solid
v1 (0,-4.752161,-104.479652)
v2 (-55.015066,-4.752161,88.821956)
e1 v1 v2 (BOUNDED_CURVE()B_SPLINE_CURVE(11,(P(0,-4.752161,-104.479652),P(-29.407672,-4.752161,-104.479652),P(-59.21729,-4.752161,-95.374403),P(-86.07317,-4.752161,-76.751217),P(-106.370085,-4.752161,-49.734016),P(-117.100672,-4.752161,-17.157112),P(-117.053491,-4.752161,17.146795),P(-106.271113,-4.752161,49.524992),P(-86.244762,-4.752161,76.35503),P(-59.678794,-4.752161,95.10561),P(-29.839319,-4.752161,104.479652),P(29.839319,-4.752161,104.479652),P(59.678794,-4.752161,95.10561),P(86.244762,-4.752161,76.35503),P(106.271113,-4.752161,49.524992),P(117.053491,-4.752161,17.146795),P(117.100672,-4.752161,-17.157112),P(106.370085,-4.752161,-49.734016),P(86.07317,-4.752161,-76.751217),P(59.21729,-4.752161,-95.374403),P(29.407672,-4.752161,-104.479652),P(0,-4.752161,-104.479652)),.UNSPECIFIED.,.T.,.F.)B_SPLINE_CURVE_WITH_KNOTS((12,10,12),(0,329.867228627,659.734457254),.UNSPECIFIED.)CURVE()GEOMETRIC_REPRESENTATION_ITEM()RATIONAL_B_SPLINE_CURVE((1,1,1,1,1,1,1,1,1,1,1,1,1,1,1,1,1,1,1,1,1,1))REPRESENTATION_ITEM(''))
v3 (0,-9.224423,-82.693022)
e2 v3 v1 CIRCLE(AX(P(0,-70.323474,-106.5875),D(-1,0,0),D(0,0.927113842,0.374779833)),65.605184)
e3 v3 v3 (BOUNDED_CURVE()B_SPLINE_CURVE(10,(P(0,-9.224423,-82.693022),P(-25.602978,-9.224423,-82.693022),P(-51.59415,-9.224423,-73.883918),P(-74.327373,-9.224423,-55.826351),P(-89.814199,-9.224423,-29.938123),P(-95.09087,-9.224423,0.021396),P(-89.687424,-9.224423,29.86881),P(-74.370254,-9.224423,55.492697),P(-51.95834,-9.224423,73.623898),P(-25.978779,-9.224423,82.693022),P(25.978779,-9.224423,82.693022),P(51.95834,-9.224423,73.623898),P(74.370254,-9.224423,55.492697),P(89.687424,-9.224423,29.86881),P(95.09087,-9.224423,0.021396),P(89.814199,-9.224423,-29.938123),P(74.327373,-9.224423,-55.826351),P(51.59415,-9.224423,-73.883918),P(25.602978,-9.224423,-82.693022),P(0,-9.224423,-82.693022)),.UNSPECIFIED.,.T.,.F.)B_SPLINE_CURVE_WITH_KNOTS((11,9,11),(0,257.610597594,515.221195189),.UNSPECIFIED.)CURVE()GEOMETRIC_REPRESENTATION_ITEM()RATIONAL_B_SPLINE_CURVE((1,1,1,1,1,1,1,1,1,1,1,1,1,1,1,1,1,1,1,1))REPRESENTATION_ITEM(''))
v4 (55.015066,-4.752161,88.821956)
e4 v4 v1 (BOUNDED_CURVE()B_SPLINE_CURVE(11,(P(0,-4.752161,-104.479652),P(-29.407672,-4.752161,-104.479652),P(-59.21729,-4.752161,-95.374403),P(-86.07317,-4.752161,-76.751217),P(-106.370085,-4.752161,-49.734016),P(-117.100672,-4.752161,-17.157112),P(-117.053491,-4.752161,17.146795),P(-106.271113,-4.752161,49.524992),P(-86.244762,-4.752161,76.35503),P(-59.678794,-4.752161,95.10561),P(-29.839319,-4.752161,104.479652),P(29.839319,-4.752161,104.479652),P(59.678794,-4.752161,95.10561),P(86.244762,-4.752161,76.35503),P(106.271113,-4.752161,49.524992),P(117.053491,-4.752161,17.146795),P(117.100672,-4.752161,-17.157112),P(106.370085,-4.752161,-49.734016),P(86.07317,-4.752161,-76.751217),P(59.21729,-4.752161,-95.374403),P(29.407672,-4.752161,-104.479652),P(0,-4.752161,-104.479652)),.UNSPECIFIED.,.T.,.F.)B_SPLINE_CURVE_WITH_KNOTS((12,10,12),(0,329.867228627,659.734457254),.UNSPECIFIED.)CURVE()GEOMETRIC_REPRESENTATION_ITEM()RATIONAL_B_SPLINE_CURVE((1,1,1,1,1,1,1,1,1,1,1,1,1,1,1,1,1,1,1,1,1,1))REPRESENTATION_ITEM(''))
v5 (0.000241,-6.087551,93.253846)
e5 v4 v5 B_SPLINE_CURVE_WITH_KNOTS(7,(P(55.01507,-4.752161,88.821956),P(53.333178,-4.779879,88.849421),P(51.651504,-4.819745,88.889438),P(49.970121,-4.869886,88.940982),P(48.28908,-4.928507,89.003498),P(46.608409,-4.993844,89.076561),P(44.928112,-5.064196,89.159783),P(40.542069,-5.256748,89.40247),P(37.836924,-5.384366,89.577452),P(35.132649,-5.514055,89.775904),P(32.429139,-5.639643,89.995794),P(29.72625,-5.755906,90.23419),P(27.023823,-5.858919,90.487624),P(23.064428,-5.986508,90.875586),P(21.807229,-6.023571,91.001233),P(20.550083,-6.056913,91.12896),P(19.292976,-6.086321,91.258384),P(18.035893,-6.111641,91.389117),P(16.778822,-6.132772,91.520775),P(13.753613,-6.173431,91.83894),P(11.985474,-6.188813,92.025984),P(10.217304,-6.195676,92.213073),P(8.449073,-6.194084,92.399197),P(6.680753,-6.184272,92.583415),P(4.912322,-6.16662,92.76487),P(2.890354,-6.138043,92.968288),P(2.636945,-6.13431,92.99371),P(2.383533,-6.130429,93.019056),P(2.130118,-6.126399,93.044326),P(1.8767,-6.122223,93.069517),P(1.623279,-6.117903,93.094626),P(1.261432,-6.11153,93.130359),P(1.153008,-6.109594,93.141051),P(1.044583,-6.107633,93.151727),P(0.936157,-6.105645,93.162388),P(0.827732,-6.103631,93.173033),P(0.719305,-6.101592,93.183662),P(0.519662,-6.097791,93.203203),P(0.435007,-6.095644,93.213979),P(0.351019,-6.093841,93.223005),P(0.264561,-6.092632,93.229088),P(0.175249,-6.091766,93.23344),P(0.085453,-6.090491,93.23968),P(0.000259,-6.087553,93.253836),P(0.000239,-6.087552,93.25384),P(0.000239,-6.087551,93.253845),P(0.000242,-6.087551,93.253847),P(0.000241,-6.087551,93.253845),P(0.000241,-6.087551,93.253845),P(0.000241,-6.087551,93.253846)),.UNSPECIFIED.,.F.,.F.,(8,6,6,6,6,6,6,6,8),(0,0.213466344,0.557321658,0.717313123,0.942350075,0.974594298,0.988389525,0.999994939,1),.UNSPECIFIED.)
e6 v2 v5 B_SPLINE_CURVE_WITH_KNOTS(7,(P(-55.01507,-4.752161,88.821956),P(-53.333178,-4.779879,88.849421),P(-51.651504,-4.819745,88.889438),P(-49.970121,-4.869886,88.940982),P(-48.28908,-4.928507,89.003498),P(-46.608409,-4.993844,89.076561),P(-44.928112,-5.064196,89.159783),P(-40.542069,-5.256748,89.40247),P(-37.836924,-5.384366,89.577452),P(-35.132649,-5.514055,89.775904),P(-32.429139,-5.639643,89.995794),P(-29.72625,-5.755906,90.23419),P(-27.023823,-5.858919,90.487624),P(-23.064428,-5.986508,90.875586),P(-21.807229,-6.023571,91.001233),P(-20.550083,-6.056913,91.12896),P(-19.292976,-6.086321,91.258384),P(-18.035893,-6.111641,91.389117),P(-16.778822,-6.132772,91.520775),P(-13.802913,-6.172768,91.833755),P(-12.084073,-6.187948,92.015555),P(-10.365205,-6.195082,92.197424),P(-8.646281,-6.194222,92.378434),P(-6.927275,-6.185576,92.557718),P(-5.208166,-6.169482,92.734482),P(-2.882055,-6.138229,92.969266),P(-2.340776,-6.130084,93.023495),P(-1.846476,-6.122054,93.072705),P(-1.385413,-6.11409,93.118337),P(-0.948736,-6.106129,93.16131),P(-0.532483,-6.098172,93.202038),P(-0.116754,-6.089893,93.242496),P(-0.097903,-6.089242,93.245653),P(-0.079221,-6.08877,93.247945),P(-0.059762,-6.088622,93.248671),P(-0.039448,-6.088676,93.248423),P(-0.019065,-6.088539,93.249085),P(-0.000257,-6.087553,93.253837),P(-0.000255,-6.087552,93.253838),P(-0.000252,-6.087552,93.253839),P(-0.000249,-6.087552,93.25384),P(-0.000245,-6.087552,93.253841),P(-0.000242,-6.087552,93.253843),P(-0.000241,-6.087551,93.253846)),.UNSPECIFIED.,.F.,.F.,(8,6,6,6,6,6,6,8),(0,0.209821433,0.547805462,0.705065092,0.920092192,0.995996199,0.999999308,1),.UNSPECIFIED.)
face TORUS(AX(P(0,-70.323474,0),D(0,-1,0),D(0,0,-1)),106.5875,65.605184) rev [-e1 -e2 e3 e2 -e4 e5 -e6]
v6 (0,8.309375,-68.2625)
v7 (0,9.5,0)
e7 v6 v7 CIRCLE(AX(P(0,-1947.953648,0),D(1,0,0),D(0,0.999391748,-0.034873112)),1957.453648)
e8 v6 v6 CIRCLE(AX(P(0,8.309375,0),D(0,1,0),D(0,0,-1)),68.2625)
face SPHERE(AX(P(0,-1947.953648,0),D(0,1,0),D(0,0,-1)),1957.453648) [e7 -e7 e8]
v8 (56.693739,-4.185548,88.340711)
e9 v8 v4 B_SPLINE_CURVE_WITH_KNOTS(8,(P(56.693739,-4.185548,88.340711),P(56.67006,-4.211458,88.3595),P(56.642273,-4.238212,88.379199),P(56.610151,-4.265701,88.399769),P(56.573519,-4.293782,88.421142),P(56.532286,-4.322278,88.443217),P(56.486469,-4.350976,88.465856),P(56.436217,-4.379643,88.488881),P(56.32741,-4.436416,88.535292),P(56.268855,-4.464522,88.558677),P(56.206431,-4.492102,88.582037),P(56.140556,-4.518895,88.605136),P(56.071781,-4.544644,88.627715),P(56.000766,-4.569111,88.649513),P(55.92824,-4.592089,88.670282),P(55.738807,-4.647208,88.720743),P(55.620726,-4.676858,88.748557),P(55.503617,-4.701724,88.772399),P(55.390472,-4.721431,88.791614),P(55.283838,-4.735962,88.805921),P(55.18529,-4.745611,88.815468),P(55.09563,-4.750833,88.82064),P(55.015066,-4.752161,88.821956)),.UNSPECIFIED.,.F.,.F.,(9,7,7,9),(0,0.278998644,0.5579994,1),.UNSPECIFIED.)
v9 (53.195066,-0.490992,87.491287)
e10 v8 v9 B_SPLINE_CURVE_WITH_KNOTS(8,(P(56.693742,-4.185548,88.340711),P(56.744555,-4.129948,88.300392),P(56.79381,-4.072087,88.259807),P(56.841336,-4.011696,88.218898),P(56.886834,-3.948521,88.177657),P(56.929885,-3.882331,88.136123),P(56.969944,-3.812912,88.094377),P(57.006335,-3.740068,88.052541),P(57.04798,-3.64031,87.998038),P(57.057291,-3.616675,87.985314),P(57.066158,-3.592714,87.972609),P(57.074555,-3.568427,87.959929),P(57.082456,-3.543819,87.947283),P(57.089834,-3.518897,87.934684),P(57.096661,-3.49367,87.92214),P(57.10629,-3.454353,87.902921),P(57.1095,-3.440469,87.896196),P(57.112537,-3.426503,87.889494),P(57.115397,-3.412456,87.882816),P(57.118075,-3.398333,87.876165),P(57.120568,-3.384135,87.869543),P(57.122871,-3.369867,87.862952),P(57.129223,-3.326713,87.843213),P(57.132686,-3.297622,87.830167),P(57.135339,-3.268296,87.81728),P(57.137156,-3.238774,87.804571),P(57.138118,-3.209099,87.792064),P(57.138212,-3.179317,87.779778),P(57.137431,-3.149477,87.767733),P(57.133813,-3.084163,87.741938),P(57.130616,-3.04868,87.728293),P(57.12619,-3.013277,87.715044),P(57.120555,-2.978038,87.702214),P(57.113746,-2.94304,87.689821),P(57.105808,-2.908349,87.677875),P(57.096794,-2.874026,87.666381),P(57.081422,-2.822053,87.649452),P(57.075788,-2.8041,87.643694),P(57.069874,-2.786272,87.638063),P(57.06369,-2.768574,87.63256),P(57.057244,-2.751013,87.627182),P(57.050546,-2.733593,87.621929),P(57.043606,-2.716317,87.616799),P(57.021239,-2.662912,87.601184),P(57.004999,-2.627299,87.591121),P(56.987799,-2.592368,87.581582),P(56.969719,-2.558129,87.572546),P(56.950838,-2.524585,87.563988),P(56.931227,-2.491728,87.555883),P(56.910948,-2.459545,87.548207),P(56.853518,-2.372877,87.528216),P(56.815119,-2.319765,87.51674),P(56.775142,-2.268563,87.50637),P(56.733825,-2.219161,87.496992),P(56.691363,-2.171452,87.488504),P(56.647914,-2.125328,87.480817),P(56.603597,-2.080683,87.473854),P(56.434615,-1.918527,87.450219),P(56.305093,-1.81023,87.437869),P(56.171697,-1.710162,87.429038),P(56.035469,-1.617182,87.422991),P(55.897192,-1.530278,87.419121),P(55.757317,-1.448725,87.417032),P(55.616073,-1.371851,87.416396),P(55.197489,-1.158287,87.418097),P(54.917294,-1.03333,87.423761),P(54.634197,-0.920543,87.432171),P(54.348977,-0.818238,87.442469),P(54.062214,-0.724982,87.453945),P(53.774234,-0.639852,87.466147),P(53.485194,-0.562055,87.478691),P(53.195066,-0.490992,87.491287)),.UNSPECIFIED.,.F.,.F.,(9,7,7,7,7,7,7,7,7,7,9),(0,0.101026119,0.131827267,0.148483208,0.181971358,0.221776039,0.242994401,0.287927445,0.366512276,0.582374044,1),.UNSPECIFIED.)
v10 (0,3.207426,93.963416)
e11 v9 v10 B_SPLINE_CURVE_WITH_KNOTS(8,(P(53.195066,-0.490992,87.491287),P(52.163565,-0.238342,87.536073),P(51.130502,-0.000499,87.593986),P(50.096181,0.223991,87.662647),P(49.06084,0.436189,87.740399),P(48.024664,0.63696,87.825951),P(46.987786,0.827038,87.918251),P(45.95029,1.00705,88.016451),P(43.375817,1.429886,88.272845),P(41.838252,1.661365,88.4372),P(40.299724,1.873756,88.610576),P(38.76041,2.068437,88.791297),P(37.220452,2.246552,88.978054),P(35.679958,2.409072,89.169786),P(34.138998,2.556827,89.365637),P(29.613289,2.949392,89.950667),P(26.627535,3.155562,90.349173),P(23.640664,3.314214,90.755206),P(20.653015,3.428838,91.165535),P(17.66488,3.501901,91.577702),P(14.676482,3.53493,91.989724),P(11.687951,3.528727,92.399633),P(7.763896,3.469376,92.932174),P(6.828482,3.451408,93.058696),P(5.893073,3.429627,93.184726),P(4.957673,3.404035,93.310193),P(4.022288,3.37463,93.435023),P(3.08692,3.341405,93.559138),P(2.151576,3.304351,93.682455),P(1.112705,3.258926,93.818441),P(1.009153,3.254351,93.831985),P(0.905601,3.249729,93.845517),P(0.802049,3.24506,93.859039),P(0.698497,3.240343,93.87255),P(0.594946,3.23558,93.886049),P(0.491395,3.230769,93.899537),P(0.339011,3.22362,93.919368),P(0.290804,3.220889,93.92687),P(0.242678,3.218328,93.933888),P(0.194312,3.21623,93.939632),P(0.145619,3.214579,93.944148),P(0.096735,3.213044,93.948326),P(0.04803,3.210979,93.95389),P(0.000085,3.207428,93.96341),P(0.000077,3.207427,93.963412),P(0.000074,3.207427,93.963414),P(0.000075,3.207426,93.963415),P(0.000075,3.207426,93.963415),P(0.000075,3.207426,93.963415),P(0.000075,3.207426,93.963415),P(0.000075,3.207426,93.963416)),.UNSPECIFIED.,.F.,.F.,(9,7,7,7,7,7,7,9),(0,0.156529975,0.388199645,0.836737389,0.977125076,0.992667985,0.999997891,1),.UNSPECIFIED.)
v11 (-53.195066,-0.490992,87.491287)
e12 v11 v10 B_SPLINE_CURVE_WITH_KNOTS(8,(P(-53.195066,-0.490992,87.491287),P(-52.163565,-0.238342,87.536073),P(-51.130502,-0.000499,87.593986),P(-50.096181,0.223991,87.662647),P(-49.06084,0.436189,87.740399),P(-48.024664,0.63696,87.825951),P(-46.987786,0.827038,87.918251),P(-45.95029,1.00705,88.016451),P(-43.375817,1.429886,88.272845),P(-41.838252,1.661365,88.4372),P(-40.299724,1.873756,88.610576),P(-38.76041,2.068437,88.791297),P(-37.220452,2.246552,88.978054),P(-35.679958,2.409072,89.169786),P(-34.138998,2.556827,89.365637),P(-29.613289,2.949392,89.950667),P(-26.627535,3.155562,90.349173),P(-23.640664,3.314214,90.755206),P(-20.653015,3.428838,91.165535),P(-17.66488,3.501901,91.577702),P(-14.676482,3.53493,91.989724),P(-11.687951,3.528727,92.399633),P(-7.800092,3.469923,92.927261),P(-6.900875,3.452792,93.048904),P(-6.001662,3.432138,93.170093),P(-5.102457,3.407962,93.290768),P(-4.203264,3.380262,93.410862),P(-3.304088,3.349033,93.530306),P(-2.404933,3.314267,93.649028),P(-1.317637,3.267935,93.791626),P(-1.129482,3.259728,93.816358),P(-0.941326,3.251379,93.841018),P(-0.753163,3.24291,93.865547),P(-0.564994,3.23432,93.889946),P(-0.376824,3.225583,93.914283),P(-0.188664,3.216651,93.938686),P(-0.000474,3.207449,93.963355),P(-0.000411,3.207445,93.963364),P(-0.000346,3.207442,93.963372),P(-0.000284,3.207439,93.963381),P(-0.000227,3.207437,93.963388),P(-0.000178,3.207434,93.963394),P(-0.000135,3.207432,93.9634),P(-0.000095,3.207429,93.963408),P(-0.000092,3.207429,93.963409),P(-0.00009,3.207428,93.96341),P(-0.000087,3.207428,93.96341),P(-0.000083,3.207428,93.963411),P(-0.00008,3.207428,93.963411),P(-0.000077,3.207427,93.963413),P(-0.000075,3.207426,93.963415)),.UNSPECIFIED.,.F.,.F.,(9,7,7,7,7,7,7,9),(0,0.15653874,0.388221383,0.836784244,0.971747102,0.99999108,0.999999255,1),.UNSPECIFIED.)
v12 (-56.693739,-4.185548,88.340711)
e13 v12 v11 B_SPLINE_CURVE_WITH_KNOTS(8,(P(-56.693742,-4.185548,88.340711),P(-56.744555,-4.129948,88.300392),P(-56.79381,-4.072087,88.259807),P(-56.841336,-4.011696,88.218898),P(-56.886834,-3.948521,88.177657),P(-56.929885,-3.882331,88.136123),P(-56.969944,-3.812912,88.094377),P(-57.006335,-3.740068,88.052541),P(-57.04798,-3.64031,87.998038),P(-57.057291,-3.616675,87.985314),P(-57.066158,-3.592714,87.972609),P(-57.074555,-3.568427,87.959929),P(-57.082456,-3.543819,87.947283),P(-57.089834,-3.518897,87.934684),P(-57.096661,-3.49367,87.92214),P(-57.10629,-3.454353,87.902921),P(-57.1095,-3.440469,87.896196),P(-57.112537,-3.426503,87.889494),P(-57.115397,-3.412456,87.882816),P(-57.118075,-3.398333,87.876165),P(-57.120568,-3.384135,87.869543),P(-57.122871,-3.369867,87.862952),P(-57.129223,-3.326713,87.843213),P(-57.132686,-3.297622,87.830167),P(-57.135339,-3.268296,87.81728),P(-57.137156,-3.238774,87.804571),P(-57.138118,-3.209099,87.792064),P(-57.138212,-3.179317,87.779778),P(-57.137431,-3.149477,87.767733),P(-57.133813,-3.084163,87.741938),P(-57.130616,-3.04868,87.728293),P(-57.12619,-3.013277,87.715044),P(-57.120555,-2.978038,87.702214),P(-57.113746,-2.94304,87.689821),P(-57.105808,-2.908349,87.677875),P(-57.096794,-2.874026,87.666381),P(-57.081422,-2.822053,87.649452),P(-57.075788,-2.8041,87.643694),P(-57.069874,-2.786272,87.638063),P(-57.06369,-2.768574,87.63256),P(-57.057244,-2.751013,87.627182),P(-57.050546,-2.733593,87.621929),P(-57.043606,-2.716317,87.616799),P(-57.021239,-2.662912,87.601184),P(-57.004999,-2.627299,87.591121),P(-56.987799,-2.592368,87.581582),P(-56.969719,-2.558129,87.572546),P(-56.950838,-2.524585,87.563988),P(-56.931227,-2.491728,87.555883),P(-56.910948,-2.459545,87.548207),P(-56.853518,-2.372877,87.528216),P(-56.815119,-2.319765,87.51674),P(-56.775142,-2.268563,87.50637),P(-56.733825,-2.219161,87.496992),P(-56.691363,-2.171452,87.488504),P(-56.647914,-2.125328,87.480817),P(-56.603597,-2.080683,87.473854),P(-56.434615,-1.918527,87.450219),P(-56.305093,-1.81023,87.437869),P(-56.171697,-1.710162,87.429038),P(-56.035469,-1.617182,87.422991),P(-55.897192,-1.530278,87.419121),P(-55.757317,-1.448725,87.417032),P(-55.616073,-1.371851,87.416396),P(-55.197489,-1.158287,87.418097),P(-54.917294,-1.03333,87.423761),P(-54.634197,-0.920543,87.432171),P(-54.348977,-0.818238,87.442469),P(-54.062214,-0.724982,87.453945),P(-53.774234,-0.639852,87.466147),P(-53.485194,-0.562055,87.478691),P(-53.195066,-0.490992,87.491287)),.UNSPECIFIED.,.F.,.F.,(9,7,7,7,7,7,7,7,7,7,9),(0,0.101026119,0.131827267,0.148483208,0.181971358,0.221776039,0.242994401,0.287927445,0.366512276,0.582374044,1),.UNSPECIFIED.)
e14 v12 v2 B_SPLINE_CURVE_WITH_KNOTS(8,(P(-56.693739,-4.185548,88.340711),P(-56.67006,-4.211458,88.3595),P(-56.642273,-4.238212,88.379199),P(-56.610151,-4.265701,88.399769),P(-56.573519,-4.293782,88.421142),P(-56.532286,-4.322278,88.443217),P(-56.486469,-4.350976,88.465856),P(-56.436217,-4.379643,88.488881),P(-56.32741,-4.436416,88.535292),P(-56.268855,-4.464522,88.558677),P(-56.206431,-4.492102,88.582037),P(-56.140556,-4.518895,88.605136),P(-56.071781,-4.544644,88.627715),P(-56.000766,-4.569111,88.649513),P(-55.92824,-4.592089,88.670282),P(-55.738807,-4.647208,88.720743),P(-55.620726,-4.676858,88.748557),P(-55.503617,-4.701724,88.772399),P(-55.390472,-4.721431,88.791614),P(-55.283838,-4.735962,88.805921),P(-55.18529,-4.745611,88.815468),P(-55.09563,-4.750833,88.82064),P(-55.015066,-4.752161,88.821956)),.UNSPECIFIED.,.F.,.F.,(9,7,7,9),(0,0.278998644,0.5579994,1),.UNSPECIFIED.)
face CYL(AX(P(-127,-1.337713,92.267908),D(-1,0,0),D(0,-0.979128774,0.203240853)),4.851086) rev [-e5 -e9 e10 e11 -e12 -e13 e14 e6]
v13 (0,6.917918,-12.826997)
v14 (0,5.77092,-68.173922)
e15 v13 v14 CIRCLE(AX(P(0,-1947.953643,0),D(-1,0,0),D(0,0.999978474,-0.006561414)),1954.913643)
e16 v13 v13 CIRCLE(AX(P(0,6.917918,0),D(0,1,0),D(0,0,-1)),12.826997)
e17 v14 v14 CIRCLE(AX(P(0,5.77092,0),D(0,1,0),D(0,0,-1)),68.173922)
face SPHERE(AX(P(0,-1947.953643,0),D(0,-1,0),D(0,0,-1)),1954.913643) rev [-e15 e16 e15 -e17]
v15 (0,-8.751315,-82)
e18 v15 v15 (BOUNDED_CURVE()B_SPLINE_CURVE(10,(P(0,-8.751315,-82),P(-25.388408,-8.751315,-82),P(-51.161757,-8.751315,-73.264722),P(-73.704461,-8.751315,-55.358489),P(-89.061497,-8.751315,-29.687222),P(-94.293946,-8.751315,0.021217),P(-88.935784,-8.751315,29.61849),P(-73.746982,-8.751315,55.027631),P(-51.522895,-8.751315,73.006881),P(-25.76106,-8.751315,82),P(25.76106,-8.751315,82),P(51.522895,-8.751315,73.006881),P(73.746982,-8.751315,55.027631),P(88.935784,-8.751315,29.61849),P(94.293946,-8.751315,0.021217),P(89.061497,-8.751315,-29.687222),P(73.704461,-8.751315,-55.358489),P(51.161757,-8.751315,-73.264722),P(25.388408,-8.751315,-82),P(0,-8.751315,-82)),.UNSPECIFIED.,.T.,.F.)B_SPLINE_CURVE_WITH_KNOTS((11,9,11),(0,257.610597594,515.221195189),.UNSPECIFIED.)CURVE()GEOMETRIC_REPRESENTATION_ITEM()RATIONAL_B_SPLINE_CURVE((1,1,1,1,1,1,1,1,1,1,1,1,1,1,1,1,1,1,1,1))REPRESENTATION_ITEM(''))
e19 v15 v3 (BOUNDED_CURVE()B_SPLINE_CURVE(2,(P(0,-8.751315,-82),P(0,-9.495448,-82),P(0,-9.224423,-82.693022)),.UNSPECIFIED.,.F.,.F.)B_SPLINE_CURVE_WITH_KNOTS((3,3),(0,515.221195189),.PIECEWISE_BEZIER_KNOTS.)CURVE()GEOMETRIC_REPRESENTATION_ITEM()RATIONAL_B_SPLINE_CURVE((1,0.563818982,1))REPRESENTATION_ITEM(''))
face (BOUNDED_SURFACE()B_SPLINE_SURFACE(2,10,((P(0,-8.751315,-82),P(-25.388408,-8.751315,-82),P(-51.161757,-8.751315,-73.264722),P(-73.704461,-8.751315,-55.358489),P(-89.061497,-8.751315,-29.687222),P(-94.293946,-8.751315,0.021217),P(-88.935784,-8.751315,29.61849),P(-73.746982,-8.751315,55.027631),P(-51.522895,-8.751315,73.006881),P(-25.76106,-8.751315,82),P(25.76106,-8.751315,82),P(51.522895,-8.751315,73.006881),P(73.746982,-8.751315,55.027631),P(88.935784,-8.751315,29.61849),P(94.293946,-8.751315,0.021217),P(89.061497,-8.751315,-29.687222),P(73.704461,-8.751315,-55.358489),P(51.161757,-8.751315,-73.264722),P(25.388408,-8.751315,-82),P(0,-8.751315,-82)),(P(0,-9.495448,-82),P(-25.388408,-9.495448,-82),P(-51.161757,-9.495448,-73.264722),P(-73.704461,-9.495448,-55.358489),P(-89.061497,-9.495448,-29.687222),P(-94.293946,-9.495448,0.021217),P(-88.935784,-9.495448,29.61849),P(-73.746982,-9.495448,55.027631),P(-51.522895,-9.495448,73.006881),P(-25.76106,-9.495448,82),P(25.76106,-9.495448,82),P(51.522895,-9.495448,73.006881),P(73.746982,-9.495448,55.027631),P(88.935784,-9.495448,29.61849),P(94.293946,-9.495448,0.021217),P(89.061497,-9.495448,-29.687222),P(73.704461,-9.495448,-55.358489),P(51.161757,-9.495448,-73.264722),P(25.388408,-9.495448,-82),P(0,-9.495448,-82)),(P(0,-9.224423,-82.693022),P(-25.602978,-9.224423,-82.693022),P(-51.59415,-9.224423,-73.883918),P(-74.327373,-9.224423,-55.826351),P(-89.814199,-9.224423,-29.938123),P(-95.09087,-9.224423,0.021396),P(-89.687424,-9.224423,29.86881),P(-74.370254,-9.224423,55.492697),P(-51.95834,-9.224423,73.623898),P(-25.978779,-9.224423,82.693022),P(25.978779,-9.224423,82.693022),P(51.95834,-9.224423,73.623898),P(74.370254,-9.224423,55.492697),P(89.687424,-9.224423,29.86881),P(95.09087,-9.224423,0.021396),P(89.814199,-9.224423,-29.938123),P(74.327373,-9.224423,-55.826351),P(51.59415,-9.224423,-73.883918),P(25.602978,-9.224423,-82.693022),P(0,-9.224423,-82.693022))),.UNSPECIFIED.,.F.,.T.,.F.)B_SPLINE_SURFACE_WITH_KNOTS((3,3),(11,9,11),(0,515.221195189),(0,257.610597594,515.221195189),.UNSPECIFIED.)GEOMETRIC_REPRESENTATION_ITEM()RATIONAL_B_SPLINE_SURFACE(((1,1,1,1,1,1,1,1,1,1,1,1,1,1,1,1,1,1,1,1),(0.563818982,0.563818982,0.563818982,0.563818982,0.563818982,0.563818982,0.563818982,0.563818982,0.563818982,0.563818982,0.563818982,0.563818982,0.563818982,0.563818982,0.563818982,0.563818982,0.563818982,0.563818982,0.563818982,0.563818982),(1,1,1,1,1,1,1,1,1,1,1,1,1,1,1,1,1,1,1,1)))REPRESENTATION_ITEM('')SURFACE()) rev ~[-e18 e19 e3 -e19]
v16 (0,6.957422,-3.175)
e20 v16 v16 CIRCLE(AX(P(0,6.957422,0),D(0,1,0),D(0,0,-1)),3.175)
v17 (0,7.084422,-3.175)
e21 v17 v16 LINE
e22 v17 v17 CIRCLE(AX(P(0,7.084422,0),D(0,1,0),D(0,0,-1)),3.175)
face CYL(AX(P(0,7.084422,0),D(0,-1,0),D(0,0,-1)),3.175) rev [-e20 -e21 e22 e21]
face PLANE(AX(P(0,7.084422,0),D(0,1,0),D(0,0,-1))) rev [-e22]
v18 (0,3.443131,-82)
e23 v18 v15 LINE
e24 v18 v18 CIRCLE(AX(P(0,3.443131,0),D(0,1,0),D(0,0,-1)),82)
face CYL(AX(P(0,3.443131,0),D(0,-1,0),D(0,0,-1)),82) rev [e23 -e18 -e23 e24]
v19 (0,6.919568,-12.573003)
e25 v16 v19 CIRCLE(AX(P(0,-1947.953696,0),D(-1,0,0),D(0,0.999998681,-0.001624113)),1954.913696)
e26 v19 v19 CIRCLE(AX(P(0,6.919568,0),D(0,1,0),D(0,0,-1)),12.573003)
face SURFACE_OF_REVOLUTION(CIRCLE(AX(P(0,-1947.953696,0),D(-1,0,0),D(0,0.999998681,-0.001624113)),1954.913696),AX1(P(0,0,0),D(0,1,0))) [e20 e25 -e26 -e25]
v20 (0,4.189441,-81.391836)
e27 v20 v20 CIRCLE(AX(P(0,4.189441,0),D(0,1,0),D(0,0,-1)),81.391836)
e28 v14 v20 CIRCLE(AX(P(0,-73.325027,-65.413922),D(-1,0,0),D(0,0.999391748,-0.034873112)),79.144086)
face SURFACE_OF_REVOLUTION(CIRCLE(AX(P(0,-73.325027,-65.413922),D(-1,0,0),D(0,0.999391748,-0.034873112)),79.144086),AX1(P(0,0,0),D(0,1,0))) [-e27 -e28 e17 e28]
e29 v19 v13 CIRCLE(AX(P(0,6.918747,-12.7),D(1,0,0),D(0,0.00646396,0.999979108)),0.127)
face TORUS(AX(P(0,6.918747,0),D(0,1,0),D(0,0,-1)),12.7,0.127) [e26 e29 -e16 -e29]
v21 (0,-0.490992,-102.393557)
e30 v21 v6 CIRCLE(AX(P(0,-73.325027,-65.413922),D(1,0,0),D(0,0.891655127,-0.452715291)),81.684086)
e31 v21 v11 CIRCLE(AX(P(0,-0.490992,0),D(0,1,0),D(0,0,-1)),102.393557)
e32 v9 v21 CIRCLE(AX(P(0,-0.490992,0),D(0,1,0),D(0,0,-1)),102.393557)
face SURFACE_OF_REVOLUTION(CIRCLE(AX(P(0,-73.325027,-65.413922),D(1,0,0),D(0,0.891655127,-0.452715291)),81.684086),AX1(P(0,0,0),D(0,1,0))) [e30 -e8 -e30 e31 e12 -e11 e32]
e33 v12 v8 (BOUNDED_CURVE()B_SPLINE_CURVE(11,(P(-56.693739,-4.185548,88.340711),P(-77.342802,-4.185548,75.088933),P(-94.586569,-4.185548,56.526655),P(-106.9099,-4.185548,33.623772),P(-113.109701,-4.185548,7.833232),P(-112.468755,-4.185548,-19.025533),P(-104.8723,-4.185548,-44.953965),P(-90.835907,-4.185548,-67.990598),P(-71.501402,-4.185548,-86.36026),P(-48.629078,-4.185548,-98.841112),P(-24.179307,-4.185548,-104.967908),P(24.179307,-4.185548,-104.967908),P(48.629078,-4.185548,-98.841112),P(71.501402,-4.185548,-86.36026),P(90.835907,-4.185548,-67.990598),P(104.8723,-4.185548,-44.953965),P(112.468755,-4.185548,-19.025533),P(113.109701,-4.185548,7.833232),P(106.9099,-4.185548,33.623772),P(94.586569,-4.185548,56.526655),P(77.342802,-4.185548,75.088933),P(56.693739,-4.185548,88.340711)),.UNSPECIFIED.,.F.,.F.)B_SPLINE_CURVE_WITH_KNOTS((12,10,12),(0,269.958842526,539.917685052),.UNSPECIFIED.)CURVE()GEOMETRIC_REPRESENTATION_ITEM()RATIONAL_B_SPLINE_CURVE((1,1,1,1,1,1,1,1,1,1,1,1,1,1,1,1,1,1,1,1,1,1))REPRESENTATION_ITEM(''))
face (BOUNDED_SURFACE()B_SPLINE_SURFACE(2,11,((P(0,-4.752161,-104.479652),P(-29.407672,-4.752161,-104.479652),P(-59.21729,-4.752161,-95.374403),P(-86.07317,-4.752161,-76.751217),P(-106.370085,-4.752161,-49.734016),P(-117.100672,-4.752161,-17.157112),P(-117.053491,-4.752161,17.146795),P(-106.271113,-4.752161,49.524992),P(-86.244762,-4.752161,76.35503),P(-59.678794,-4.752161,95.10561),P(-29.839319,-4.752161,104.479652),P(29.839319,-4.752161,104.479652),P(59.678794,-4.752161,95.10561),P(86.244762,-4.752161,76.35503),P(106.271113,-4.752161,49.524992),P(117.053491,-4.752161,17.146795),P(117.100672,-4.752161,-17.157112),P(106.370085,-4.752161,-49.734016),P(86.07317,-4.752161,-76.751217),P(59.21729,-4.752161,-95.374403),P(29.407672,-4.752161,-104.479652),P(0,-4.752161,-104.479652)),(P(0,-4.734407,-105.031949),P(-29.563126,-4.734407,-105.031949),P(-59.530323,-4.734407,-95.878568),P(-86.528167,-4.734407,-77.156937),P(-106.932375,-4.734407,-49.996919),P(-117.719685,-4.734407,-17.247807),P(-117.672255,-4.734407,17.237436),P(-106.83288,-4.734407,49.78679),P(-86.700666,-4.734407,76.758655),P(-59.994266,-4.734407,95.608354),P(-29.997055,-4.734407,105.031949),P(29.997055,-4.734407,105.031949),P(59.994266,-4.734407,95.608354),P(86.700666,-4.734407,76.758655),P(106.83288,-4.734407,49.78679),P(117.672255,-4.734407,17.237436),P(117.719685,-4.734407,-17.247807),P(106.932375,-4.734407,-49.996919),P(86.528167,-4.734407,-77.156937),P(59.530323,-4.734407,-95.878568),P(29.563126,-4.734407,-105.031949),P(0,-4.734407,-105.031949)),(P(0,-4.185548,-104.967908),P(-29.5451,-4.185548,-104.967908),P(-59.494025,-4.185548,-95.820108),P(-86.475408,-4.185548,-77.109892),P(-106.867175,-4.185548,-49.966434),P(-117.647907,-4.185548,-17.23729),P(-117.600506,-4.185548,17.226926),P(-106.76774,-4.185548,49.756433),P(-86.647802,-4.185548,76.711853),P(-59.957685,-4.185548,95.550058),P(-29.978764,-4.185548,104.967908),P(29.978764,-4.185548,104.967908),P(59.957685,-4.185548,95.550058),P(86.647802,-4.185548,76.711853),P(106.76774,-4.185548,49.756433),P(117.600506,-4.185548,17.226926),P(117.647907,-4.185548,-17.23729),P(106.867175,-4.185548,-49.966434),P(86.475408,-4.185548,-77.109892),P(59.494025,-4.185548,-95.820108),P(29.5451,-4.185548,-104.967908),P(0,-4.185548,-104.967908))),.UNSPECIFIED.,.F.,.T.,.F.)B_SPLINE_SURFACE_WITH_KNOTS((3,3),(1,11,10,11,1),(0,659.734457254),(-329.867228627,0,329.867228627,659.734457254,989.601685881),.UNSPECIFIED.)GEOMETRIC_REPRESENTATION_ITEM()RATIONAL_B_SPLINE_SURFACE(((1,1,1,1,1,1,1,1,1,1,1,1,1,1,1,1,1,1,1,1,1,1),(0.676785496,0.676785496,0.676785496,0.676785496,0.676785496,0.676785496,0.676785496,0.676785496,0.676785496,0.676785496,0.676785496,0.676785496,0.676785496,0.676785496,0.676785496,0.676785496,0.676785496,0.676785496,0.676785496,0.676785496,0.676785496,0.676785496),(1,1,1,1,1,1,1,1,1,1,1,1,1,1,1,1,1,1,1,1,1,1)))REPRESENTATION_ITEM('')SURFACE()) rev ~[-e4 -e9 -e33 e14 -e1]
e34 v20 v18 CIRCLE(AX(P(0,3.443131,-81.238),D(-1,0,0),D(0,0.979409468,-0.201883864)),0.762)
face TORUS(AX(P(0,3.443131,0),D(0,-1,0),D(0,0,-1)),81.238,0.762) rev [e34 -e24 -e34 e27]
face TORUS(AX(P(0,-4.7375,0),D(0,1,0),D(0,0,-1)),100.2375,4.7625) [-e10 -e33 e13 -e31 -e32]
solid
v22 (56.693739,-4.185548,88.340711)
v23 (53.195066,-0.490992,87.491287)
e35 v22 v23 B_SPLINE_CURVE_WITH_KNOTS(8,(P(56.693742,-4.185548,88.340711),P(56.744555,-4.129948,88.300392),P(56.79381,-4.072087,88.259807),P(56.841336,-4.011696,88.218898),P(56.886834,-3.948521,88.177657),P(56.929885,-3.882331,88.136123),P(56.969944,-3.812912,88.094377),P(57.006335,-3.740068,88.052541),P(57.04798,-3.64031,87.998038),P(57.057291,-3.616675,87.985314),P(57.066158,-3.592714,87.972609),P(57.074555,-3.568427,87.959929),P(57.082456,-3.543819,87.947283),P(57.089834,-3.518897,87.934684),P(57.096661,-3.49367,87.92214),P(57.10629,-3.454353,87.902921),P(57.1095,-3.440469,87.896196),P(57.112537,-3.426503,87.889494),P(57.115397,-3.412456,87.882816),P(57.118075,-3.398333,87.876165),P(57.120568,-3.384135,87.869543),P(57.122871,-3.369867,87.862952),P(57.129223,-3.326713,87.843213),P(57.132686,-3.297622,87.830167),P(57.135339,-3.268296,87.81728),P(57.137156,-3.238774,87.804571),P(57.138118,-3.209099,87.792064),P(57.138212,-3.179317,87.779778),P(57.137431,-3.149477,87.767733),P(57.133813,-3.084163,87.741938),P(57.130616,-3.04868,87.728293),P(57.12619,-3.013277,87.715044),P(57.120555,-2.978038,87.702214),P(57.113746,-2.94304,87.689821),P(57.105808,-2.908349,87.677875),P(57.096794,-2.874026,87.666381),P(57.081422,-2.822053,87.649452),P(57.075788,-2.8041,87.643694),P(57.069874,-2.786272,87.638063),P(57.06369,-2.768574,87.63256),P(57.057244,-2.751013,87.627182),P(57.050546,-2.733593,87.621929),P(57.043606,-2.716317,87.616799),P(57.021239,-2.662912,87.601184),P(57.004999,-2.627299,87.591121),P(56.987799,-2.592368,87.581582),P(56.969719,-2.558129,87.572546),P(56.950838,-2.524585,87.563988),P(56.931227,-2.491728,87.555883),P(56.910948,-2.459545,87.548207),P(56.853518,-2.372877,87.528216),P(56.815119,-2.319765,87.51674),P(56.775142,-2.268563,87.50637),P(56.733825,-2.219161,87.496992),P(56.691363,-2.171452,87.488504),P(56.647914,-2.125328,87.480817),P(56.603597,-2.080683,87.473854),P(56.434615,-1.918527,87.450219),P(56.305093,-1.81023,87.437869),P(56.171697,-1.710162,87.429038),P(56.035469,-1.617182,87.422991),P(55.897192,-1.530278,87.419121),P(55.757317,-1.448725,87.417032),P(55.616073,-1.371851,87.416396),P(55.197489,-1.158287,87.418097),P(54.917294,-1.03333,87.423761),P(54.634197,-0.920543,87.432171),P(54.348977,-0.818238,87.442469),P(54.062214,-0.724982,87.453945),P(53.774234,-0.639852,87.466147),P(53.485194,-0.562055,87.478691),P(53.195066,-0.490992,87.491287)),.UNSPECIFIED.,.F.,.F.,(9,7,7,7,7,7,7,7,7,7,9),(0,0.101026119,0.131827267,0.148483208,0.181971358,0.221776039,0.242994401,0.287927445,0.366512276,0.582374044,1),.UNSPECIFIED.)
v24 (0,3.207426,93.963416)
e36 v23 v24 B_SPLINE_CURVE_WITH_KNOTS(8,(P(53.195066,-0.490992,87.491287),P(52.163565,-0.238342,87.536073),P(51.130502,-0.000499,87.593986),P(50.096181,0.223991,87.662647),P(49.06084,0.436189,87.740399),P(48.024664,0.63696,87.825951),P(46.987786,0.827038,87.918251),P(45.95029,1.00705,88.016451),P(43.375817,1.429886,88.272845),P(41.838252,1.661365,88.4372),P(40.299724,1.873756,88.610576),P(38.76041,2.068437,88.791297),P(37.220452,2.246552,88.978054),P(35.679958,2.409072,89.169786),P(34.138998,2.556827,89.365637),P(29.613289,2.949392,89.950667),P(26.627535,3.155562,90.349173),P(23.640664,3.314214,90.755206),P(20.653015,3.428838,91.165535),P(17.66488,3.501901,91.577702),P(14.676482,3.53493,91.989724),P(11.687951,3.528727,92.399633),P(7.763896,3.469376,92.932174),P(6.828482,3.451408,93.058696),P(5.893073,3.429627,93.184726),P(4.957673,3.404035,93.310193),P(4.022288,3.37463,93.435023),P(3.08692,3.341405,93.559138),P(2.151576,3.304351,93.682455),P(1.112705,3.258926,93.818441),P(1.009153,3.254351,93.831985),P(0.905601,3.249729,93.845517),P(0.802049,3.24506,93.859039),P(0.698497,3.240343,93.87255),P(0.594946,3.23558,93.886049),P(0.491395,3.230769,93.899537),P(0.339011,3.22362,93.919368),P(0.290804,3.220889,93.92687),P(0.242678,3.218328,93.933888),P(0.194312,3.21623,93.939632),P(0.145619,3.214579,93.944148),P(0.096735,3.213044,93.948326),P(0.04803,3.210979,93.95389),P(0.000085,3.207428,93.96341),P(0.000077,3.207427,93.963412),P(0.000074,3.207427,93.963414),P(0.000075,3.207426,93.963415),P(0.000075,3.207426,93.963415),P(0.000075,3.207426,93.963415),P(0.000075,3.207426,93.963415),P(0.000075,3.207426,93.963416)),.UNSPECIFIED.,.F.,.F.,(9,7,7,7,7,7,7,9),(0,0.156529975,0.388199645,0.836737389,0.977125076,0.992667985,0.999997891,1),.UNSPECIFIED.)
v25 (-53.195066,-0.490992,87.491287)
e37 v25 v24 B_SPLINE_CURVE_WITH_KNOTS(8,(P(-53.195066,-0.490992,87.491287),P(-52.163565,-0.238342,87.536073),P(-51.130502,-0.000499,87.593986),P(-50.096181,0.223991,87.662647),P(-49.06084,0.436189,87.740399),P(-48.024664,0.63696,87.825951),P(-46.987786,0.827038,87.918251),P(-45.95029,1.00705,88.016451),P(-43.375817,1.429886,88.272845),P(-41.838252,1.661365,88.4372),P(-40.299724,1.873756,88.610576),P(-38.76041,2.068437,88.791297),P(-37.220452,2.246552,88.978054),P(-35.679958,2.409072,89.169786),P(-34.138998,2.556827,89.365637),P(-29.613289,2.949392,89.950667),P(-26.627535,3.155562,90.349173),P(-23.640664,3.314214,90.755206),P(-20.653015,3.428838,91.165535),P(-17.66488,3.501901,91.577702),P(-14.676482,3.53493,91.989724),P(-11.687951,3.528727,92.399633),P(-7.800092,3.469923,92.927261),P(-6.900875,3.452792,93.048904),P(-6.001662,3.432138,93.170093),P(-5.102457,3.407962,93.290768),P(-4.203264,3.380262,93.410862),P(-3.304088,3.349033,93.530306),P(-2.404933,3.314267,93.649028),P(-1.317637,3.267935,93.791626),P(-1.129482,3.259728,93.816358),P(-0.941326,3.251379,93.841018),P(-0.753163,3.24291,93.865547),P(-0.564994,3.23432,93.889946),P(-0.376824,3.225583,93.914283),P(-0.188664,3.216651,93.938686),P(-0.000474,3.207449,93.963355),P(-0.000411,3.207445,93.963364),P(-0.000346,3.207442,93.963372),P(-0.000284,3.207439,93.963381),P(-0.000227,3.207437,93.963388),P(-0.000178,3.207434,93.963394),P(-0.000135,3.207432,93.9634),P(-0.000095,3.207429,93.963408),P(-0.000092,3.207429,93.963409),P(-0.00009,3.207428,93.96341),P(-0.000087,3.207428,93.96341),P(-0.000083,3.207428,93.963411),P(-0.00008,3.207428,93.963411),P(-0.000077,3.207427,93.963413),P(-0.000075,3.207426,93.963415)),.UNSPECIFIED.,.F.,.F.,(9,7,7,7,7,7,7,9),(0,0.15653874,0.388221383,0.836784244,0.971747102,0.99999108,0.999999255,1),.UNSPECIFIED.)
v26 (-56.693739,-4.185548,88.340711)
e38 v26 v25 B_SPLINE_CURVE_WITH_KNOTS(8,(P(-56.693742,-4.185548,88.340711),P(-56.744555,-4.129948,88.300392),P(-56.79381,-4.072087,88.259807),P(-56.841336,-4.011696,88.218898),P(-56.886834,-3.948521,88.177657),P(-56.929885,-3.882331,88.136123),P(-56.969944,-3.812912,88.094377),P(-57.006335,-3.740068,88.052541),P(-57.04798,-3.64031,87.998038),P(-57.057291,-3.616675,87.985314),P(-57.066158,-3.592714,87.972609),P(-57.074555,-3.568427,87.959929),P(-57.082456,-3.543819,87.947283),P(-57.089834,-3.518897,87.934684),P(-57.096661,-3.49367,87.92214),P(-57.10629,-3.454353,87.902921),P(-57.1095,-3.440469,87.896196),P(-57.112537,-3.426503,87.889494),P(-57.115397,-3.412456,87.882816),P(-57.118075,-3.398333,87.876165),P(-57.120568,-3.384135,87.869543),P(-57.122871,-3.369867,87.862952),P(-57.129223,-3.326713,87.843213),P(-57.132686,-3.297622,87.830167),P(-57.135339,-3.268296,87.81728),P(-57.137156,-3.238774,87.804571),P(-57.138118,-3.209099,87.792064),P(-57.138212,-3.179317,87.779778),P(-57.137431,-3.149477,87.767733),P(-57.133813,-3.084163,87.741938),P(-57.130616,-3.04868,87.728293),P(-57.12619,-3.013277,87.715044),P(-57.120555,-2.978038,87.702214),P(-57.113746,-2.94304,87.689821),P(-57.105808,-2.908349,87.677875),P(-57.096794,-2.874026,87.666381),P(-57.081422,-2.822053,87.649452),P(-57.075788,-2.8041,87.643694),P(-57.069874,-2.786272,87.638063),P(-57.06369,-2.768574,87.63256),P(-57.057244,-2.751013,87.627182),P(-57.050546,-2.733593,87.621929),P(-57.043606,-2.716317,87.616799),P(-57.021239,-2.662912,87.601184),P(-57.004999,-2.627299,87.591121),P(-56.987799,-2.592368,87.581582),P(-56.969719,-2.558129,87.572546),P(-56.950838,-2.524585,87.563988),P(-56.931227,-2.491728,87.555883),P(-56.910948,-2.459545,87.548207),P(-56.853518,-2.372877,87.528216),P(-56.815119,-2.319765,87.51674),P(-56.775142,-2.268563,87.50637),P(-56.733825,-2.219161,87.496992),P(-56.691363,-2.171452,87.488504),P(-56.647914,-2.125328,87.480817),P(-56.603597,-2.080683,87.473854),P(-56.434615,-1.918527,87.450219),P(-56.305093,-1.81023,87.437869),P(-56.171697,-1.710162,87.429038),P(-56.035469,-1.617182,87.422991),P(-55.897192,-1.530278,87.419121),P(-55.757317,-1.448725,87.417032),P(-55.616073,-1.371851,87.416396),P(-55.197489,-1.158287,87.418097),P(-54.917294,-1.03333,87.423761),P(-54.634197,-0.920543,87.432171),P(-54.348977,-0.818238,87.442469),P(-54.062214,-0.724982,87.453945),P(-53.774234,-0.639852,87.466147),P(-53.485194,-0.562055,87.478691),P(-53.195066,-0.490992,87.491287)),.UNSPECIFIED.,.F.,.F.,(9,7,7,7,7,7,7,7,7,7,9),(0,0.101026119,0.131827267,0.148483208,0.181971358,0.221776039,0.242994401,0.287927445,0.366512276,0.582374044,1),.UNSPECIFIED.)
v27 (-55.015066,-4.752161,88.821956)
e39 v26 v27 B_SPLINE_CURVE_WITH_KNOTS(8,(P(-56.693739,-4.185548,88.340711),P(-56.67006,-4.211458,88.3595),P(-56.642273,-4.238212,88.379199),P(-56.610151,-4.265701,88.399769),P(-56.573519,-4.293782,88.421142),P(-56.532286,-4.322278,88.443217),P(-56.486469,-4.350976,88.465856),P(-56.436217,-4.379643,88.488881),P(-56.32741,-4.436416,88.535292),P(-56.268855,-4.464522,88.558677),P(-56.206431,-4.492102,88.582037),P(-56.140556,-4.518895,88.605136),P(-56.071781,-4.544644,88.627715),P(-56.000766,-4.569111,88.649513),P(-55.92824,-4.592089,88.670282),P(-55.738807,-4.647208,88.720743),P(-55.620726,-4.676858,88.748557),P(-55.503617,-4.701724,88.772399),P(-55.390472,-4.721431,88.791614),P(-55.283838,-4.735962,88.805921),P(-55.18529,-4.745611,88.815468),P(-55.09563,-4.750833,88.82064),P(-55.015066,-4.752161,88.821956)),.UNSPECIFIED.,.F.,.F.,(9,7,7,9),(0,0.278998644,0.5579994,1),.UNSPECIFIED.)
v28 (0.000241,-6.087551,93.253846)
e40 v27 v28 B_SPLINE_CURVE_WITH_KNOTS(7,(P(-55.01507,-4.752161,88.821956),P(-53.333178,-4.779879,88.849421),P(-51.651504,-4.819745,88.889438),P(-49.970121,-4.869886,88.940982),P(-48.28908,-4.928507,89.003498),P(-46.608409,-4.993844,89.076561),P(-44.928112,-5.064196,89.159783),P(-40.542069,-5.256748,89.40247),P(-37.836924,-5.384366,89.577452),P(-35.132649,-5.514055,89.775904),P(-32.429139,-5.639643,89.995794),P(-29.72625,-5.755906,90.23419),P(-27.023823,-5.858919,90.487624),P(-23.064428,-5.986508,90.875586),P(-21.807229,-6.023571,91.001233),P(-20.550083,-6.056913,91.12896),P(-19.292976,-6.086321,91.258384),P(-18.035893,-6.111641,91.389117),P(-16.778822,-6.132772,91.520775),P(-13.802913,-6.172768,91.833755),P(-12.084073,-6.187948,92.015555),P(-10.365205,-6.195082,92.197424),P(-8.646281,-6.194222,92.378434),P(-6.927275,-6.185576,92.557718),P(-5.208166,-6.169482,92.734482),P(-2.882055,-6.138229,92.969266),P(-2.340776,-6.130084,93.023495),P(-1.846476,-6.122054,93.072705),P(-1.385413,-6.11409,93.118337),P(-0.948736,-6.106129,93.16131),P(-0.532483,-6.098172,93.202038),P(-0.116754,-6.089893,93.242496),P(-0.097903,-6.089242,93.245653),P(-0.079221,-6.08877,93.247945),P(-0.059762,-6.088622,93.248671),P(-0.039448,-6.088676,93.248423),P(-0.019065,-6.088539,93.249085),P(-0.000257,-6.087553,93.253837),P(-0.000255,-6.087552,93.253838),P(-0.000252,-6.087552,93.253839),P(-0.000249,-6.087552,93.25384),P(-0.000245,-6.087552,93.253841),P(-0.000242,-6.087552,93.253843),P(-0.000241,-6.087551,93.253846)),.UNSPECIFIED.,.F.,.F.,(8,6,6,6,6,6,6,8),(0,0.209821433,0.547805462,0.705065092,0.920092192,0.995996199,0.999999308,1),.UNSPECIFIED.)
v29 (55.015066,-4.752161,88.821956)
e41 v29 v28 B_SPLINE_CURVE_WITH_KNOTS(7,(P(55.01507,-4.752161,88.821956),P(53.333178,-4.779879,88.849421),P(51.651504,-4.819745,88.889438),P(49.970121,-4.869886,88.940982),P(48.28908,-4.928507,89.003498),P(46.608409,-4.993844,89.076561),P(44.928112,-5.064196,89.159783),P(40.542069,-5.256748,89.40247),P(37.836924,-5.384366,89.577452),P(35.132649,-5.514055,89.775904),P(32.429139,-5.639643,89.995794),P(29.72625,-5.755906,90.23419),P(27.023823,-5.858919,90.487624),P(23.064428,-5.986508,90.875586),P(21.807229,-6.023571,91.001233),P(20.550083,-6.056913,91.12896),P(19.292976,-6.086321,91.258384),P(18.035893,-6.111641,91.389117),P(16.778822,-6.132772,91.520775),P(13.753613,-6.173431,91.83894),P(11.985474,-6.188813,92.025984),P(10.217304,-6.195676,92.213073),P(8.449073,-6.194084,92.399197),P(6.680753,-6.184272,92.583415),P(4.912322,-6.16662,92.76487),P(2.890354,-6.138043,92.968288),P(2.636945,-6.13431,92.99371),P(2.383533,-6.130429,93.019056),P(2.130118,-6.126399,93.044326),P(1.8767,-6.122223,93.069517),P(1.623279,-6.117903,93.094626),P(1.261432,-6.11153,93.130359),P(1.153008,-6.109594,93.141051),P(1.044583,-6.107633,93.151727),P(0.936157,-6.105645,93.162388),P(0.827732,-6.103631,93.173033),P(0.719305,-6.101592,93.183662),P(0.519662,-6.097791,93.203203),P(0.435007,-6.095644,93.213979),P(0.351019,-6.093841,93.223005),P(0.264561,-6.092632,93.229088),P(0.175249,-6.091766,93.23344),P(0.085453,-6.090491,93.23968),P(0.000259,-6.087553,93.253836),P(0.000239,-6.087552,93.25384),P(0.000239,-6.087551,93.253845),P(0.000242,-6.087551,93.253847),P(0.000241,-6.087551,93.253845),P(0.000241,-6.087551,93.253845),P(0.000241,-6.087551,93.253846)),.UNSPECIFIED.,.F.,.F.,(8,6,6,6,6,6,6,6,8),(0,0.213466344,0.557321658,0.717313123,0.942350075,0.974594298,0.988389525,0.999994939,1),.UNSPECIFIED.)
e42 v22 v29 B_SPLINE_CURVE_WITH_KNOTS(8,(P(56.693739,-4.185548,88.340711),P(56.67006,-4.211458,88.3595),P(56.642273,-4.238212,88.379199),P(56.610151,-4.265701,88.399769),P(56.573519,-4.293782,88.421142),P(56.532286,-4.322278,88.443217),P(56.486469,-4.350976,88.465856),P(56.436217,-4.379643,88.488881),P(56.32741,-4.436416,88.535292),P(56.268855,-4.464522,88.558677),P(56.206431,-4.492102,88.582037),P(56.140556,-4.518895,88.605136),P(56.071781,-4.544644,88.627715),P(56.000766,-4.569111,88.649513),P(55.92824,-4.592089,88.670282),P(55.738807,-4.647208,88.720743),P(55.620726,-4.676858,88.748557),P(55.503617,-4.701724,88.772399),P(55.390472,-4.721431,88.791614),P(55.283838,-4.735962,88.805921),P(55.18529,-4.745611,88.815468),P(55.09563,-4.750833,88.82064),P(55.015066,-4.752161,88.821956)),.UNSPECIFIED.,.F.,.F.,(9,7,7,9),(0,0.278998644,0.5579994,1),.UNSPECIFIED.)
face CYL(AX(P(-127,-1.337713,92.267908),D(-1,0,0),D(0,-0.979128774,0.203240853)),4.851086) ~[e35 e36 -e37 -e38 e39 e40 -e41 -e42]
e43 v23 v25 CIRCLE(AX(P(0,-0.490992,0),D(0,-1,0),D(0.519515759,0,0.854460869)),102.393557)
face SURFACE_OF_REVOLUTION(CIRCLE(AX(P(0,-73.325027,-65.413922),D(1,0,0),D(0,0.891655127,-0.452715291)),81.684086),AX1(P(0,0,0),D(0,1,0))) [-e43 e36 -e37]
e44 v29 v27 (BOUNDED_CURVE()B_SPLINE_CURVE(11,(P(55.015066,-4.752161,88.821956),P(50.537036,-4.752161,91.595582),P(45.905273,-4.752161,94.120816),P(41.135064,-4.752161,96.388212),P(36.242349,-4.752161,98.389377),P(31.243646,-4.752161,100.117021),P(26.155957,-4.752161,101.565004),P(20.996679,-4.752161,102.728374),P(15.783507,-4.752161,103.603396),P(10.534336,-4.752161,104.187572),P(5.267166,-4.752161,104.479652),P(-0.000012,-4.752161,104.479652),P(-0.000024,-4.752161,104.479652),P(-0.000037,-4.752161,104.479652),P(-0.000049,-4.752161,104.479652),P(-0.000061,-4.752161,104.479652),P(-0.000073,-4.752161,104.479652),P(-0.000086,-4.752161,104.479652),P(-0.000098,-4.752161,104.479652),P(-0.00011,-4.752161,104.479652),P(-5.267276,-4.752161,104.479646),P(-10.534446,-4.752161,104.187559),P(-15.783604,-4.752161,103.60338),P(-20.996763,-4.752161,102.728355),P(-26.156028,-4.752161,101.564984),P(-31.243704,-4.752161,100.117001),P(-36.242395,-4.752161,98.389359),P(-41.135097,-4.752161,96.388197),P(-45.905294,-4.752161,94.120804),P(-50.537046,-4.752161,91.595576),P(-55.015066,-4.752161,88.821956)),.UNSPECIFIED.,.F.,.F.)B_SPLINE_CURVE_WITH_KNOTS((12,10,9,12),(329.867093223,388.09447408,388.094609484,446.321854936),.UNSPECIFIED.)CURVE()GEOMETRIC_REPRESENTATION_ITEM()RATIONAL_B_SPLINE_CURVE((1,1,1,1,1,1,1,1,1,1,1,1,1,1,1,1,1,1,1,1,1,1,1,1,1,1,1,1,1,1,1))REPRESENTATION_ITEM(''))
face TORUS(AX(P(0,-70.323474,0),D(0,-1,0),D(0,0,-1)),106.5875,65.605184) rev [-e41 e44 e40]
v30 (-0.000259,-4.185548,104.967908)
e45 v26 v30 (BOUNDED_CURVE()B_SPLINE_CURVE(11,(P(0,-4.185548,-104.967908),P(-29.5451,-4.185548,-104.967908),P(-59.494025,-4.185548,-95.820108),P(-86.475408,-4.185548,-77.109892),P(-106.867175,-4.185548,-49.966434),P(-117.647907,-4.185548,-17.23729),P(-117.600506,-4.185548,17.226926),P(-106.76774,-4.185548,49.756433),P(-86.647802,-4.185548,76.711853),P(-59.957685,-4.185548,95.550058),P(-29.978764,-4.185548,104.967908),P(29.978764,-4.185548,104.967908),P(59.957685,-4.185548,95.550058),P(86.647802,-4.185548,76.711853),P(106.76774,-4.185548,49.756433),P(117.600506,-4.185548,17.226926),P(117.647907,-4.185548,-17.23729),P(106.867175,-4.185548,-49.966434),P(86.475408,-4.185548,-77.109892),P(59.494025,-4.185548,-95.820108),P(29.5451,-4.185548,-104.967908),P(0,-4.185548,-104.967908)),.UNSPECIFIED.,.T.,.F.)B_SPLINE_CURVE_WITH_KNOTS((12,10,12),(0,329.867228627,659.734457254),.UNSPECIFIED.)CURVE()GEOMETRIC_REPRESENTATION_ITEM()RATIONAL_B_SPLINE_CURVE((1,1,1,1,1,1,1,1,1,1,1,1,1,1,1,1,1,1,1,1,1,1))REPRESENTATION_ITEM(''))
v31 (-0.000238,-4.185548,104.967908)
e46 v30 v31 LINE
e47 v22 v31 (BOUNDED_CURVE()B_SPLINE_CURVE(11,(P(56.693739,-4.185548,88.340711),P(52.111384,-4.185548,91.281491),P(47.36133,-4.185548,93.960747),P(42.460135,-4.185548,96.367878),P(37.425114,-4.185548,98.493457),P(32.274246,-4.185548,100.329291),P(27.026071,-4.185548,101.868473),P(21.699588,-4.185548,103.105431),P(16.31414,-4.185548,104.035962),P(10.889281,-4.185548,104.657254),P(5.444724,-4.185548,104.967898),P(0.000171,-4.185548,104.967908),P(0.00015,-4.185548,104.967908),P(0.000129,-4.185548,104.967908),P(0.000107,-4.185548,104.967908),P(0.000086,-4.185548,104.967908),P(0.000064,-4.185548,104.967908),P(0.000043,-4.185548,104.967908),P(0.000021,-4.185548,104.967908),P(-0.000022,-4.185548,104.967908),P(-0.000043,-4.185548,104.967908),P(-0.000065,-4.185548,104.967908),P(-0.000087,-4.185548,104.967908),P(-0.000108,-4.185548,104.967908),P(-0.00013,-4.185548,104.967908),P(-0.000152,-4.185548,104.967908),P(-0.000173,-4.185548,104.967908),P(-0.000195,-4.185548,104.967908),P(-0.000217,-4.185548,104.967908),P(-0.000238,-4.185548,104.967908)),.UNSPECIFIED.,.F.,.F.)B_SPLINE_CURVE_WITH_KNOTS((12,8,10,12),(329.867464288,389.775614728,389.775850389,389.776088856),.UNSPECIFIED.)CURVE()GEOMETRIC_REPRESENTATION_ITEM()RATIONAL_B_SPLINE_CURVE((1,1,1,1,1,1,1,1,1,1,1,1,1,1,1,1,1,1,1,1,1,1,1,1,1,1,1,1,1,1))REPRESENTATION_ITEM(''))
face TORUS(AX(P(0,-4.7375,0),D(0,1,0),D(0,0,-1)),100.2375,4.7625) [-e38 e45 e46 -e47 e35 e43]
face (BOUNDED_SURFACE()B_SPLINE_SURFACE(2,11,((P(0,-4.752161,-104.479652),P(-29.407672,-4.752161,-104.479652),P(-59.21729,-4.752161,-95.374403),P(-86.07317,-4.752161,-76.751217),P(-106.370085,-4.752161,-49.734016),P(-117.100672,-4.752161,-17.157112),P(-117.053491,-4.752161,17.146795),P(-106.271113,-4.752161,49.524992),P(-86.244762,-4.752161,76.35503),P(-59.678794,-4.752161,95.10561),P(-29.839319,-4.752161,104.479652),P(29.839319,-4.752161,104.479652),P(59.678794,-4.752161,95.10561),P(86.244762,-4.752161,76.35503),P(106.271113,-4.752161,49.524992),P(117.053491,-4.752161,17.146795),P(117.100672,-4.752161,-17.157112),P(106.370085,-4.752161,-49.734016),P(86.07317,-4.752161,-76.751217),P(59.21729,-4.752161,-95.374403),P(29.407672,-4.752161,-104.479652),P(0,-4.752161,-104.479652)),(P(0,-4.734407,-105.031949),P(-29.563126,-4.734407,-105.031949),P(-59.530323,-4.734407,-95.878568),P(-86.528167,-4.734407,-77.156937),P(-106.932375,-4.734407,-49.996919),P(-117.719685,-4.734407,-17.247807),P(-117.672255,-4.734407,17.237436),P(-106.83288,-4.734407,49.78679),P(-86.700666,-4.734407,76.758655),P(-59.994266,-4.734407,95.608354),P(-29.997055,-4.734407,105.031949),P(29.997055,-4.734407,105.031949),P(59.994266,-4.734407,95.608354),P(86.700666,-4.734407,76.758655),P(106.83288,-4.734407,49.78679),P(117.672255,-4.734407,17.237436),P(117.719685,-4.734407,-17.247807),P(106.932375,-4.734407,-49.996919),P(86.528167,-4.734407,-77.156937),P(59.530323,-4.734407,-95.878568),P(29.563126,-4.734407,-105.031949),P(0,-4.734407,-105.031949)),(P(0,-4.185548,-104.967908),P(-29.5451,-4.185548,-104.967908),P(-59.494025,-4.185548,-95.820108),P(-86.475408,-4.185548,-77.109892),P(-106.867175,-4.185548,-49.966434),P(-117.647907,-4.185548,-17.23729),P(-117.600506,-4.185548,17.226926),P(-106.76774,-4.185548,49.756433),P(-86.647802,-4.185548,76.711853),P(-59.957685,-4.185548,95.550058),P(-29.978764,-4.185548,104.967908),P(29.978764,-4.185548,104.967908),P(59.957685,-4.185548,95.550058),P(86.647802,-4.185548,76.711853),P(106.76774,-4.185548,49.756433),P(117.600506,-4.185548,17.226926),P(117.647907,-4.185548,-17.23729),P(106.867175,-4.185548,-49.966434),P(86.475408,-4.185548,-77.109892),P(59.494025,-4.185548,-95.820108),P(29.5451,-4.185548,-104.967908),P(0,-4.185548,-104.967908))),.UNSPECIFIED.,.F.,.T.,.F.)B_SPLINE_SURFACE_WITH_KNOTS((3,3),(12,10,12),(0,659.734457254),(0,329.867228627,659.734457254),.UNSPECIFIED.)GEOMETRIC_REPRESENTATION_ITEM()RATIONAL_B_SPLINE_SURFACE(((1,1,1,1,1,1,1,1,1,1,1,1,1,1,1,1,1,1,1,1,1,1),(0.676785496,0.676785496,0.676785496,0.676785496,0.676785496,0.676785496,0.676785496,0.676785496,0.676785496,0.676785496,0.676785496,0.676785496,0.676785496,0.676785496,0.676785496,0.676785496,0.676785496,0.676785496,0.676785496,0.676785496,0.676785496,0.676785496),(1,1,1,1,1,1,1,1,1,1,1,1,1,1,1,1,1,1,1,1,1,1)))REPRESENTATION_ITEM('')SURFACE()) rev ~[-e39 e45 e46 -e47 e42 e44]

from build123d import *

# Parameters (mm, degrees)
FILLET1_R                = 0.508
SURFACE_EXTRUDE1_1_BACK  = 127
SURFACE_EXTRUDE1_1_DEPTH = 254
SURFACE_EXTRUDE1_2_BACK  = 127
SURFACE_EXTRUDE1_2_DEPTH = 254


with BuildPart() as part:
    # Sketch1 → Revolve1 (revolve)
    with BuildSketch(Plane(origin=(0, 0, 0), x_dir=(0, 0, -1), z_dir=(1, 0, 0)), mode=Mode.PRIVATE) as revolve1_sk:
        with BuildLine():
            ThreePointArc((-12.826997294, 6.917917929), (-40.504520052, 6.5403415), (-68.173922296, 5.77091996))
            ThreePointArc((-68.173922296, 5.77091996), (-74.816188883, 5.258583254), (-81.391835503, 4.189440674))
            ThreePointArc((-81.391835503, 4.189440674), (-81.828705787, 3.924494007), (-82, 3.443130659))
            Line((-82, 3.443130659), (-82, -9.5))
            ThreePointArc((-82, -9.5), (-93.285131496, -6.081064837), (-105, -4.7375))
            ThreePointArc((-105, -4.7375), (-104.296417694, -2.246196445), (-102.393556576, -0.490992459))
            ThreePointArc((-102.393556576, -0.490992459), (-85.808363543, 5.772107771), (-68.2625, 8.309375))
            ThreePointArc((-68.2625, 8.309375), (-34.136441284, 9.202321115), (0, 9.5))
            Line((0, 9.5), (0, 7.084421719))
            Line((0, 7.084421719), (-3.175, 7.084421719))
            Line((-3.175, 7.084421719), (-3.175, 6.957421719))
            ThreePointArc((-3.175, 6.957421719), (-7.874024074, 6.944142392), (-12.573002654, 6.919568027))
            ThreePointArc((-12.573002654, 6.919568027), (-12.699174951, 6.791749784), (-12.826997294, 6.917917929))
        make_face()
    revolve(revolve1_sk.sketch.rotate(Axis((0, 0, 0), (0, 1, 0)), 180), axis=Axis((0, 0, 0), (0, 1, 0)))

    # Fillet1
    fillet1_edges = [part.edges().sort_by_distance(p)[0] for p in [
        (0, -9.5, 82),
        (0, -4.7375, 105),
    ]]
    fillet(fillet1_edges, radius=FILLET1_R)


with BuildPart() as body_2:
    # Split1: the piece behind the surface
    add(part.part)
    # Surface-Extrude1: a surface, the sketch's curves swept straight by 254 mm
    with BuildLine(Plane(origin=(0, 0, 0), x_dir=(0, 0, -1), z_dir=(1, 0, 0)).offset(-SURFACE_EXTRUDE1_1_BACK), mode=Mode.PRIVATE) as surface_extrude1_1_path:
        ThreePointArc((-93.253846406, -6.087550836), (-87.430895176, -0.968460031), (-93.963415931, 3.207426016))
        ThreePointArc((-93.963415931, 3.207426016), (-98.230628804, 1.477070024), (-102.393556576, -0.490992459))
        ThreePointArc((-102.393556576, -0.490992459), (-104.144964964, -2.014794763), (-104.967907532, -4.185548165))
        ThreePointArc((-104.967907532, -4.185548165), (-104.848163503, -4.576036863), (-104.479652405, -4.752160758))
        ThreePointArc((-104.479652405, -4.752160758), (-98.837931857, -5.177604325), (-93.253846406, -6.087550836))
    surface_extrude1_1 = Shell.extrude(surface_extrude1_1_path.wire(), (1 * SURFACE_EXTRUDE1_1_DEPTH, 0 * SURFACE_EXTRUDE1_1_DEPTH, 0 * SURFACE_EXTRUDE1_1_DEPTH))
    split(bisect_by=surface_extrude1_1, keep=Keep.BOTTOM)


with BuildPart() as part_1:
    add(part.part)

    # Split1: split by a surface, the side it looks to stays
    # Surface-Extrude1: a surface, the sketch's curves swept straight by 254 mm
    with BuildLine(Plane(origin=(0, 0, 0), x_dir=(0, 0, -1), z_dir=(1, 0, 0)).offset(-SURFACE_EXTRUDE1_2_BACK), mode=Mode.PRIVATE) as surface_extrude1_2_path:
        ThreePointArc((-93.253846406, -6.087550836), (-87.430895176, -0.968460031), (-93.963415931, 3.207426016))
        ThreePointArc((-93.963415931, 3.207426016), (-98.230628804, 1.477070024), (-102.393556576, -0.490992459))
        ThreePointArc((-102.393556576, -0.490992459), (-104.144964964, -2.014794763), (-104.967907532, -4.185548165))
        ThreePointArc((-104.967907532, -4.185548165), (-104.848163503, -4.576036863), (-104.479652405, -4.752160758))
        ThreePointArc((-104.479652405, -4.752160758), (-98.837931857, -5.177604325), (-93.253846406, -6.087550836))
    surface_extrude1_2 = Shell.extrude(surface_extrude1_2_path.wire(), (1 * SURFACE_EXTRUDE1_2_DEPTH, 0 * SURFACE_EXTRUDE1_2_DEPTH, 0 * SURFACE_EXTRUDE1_2_DEPTH))
    split(bisect_by=surface_extrude1_2, keep=Keep.TOP)


solid = Compound([body_2.part, part_1.part])
